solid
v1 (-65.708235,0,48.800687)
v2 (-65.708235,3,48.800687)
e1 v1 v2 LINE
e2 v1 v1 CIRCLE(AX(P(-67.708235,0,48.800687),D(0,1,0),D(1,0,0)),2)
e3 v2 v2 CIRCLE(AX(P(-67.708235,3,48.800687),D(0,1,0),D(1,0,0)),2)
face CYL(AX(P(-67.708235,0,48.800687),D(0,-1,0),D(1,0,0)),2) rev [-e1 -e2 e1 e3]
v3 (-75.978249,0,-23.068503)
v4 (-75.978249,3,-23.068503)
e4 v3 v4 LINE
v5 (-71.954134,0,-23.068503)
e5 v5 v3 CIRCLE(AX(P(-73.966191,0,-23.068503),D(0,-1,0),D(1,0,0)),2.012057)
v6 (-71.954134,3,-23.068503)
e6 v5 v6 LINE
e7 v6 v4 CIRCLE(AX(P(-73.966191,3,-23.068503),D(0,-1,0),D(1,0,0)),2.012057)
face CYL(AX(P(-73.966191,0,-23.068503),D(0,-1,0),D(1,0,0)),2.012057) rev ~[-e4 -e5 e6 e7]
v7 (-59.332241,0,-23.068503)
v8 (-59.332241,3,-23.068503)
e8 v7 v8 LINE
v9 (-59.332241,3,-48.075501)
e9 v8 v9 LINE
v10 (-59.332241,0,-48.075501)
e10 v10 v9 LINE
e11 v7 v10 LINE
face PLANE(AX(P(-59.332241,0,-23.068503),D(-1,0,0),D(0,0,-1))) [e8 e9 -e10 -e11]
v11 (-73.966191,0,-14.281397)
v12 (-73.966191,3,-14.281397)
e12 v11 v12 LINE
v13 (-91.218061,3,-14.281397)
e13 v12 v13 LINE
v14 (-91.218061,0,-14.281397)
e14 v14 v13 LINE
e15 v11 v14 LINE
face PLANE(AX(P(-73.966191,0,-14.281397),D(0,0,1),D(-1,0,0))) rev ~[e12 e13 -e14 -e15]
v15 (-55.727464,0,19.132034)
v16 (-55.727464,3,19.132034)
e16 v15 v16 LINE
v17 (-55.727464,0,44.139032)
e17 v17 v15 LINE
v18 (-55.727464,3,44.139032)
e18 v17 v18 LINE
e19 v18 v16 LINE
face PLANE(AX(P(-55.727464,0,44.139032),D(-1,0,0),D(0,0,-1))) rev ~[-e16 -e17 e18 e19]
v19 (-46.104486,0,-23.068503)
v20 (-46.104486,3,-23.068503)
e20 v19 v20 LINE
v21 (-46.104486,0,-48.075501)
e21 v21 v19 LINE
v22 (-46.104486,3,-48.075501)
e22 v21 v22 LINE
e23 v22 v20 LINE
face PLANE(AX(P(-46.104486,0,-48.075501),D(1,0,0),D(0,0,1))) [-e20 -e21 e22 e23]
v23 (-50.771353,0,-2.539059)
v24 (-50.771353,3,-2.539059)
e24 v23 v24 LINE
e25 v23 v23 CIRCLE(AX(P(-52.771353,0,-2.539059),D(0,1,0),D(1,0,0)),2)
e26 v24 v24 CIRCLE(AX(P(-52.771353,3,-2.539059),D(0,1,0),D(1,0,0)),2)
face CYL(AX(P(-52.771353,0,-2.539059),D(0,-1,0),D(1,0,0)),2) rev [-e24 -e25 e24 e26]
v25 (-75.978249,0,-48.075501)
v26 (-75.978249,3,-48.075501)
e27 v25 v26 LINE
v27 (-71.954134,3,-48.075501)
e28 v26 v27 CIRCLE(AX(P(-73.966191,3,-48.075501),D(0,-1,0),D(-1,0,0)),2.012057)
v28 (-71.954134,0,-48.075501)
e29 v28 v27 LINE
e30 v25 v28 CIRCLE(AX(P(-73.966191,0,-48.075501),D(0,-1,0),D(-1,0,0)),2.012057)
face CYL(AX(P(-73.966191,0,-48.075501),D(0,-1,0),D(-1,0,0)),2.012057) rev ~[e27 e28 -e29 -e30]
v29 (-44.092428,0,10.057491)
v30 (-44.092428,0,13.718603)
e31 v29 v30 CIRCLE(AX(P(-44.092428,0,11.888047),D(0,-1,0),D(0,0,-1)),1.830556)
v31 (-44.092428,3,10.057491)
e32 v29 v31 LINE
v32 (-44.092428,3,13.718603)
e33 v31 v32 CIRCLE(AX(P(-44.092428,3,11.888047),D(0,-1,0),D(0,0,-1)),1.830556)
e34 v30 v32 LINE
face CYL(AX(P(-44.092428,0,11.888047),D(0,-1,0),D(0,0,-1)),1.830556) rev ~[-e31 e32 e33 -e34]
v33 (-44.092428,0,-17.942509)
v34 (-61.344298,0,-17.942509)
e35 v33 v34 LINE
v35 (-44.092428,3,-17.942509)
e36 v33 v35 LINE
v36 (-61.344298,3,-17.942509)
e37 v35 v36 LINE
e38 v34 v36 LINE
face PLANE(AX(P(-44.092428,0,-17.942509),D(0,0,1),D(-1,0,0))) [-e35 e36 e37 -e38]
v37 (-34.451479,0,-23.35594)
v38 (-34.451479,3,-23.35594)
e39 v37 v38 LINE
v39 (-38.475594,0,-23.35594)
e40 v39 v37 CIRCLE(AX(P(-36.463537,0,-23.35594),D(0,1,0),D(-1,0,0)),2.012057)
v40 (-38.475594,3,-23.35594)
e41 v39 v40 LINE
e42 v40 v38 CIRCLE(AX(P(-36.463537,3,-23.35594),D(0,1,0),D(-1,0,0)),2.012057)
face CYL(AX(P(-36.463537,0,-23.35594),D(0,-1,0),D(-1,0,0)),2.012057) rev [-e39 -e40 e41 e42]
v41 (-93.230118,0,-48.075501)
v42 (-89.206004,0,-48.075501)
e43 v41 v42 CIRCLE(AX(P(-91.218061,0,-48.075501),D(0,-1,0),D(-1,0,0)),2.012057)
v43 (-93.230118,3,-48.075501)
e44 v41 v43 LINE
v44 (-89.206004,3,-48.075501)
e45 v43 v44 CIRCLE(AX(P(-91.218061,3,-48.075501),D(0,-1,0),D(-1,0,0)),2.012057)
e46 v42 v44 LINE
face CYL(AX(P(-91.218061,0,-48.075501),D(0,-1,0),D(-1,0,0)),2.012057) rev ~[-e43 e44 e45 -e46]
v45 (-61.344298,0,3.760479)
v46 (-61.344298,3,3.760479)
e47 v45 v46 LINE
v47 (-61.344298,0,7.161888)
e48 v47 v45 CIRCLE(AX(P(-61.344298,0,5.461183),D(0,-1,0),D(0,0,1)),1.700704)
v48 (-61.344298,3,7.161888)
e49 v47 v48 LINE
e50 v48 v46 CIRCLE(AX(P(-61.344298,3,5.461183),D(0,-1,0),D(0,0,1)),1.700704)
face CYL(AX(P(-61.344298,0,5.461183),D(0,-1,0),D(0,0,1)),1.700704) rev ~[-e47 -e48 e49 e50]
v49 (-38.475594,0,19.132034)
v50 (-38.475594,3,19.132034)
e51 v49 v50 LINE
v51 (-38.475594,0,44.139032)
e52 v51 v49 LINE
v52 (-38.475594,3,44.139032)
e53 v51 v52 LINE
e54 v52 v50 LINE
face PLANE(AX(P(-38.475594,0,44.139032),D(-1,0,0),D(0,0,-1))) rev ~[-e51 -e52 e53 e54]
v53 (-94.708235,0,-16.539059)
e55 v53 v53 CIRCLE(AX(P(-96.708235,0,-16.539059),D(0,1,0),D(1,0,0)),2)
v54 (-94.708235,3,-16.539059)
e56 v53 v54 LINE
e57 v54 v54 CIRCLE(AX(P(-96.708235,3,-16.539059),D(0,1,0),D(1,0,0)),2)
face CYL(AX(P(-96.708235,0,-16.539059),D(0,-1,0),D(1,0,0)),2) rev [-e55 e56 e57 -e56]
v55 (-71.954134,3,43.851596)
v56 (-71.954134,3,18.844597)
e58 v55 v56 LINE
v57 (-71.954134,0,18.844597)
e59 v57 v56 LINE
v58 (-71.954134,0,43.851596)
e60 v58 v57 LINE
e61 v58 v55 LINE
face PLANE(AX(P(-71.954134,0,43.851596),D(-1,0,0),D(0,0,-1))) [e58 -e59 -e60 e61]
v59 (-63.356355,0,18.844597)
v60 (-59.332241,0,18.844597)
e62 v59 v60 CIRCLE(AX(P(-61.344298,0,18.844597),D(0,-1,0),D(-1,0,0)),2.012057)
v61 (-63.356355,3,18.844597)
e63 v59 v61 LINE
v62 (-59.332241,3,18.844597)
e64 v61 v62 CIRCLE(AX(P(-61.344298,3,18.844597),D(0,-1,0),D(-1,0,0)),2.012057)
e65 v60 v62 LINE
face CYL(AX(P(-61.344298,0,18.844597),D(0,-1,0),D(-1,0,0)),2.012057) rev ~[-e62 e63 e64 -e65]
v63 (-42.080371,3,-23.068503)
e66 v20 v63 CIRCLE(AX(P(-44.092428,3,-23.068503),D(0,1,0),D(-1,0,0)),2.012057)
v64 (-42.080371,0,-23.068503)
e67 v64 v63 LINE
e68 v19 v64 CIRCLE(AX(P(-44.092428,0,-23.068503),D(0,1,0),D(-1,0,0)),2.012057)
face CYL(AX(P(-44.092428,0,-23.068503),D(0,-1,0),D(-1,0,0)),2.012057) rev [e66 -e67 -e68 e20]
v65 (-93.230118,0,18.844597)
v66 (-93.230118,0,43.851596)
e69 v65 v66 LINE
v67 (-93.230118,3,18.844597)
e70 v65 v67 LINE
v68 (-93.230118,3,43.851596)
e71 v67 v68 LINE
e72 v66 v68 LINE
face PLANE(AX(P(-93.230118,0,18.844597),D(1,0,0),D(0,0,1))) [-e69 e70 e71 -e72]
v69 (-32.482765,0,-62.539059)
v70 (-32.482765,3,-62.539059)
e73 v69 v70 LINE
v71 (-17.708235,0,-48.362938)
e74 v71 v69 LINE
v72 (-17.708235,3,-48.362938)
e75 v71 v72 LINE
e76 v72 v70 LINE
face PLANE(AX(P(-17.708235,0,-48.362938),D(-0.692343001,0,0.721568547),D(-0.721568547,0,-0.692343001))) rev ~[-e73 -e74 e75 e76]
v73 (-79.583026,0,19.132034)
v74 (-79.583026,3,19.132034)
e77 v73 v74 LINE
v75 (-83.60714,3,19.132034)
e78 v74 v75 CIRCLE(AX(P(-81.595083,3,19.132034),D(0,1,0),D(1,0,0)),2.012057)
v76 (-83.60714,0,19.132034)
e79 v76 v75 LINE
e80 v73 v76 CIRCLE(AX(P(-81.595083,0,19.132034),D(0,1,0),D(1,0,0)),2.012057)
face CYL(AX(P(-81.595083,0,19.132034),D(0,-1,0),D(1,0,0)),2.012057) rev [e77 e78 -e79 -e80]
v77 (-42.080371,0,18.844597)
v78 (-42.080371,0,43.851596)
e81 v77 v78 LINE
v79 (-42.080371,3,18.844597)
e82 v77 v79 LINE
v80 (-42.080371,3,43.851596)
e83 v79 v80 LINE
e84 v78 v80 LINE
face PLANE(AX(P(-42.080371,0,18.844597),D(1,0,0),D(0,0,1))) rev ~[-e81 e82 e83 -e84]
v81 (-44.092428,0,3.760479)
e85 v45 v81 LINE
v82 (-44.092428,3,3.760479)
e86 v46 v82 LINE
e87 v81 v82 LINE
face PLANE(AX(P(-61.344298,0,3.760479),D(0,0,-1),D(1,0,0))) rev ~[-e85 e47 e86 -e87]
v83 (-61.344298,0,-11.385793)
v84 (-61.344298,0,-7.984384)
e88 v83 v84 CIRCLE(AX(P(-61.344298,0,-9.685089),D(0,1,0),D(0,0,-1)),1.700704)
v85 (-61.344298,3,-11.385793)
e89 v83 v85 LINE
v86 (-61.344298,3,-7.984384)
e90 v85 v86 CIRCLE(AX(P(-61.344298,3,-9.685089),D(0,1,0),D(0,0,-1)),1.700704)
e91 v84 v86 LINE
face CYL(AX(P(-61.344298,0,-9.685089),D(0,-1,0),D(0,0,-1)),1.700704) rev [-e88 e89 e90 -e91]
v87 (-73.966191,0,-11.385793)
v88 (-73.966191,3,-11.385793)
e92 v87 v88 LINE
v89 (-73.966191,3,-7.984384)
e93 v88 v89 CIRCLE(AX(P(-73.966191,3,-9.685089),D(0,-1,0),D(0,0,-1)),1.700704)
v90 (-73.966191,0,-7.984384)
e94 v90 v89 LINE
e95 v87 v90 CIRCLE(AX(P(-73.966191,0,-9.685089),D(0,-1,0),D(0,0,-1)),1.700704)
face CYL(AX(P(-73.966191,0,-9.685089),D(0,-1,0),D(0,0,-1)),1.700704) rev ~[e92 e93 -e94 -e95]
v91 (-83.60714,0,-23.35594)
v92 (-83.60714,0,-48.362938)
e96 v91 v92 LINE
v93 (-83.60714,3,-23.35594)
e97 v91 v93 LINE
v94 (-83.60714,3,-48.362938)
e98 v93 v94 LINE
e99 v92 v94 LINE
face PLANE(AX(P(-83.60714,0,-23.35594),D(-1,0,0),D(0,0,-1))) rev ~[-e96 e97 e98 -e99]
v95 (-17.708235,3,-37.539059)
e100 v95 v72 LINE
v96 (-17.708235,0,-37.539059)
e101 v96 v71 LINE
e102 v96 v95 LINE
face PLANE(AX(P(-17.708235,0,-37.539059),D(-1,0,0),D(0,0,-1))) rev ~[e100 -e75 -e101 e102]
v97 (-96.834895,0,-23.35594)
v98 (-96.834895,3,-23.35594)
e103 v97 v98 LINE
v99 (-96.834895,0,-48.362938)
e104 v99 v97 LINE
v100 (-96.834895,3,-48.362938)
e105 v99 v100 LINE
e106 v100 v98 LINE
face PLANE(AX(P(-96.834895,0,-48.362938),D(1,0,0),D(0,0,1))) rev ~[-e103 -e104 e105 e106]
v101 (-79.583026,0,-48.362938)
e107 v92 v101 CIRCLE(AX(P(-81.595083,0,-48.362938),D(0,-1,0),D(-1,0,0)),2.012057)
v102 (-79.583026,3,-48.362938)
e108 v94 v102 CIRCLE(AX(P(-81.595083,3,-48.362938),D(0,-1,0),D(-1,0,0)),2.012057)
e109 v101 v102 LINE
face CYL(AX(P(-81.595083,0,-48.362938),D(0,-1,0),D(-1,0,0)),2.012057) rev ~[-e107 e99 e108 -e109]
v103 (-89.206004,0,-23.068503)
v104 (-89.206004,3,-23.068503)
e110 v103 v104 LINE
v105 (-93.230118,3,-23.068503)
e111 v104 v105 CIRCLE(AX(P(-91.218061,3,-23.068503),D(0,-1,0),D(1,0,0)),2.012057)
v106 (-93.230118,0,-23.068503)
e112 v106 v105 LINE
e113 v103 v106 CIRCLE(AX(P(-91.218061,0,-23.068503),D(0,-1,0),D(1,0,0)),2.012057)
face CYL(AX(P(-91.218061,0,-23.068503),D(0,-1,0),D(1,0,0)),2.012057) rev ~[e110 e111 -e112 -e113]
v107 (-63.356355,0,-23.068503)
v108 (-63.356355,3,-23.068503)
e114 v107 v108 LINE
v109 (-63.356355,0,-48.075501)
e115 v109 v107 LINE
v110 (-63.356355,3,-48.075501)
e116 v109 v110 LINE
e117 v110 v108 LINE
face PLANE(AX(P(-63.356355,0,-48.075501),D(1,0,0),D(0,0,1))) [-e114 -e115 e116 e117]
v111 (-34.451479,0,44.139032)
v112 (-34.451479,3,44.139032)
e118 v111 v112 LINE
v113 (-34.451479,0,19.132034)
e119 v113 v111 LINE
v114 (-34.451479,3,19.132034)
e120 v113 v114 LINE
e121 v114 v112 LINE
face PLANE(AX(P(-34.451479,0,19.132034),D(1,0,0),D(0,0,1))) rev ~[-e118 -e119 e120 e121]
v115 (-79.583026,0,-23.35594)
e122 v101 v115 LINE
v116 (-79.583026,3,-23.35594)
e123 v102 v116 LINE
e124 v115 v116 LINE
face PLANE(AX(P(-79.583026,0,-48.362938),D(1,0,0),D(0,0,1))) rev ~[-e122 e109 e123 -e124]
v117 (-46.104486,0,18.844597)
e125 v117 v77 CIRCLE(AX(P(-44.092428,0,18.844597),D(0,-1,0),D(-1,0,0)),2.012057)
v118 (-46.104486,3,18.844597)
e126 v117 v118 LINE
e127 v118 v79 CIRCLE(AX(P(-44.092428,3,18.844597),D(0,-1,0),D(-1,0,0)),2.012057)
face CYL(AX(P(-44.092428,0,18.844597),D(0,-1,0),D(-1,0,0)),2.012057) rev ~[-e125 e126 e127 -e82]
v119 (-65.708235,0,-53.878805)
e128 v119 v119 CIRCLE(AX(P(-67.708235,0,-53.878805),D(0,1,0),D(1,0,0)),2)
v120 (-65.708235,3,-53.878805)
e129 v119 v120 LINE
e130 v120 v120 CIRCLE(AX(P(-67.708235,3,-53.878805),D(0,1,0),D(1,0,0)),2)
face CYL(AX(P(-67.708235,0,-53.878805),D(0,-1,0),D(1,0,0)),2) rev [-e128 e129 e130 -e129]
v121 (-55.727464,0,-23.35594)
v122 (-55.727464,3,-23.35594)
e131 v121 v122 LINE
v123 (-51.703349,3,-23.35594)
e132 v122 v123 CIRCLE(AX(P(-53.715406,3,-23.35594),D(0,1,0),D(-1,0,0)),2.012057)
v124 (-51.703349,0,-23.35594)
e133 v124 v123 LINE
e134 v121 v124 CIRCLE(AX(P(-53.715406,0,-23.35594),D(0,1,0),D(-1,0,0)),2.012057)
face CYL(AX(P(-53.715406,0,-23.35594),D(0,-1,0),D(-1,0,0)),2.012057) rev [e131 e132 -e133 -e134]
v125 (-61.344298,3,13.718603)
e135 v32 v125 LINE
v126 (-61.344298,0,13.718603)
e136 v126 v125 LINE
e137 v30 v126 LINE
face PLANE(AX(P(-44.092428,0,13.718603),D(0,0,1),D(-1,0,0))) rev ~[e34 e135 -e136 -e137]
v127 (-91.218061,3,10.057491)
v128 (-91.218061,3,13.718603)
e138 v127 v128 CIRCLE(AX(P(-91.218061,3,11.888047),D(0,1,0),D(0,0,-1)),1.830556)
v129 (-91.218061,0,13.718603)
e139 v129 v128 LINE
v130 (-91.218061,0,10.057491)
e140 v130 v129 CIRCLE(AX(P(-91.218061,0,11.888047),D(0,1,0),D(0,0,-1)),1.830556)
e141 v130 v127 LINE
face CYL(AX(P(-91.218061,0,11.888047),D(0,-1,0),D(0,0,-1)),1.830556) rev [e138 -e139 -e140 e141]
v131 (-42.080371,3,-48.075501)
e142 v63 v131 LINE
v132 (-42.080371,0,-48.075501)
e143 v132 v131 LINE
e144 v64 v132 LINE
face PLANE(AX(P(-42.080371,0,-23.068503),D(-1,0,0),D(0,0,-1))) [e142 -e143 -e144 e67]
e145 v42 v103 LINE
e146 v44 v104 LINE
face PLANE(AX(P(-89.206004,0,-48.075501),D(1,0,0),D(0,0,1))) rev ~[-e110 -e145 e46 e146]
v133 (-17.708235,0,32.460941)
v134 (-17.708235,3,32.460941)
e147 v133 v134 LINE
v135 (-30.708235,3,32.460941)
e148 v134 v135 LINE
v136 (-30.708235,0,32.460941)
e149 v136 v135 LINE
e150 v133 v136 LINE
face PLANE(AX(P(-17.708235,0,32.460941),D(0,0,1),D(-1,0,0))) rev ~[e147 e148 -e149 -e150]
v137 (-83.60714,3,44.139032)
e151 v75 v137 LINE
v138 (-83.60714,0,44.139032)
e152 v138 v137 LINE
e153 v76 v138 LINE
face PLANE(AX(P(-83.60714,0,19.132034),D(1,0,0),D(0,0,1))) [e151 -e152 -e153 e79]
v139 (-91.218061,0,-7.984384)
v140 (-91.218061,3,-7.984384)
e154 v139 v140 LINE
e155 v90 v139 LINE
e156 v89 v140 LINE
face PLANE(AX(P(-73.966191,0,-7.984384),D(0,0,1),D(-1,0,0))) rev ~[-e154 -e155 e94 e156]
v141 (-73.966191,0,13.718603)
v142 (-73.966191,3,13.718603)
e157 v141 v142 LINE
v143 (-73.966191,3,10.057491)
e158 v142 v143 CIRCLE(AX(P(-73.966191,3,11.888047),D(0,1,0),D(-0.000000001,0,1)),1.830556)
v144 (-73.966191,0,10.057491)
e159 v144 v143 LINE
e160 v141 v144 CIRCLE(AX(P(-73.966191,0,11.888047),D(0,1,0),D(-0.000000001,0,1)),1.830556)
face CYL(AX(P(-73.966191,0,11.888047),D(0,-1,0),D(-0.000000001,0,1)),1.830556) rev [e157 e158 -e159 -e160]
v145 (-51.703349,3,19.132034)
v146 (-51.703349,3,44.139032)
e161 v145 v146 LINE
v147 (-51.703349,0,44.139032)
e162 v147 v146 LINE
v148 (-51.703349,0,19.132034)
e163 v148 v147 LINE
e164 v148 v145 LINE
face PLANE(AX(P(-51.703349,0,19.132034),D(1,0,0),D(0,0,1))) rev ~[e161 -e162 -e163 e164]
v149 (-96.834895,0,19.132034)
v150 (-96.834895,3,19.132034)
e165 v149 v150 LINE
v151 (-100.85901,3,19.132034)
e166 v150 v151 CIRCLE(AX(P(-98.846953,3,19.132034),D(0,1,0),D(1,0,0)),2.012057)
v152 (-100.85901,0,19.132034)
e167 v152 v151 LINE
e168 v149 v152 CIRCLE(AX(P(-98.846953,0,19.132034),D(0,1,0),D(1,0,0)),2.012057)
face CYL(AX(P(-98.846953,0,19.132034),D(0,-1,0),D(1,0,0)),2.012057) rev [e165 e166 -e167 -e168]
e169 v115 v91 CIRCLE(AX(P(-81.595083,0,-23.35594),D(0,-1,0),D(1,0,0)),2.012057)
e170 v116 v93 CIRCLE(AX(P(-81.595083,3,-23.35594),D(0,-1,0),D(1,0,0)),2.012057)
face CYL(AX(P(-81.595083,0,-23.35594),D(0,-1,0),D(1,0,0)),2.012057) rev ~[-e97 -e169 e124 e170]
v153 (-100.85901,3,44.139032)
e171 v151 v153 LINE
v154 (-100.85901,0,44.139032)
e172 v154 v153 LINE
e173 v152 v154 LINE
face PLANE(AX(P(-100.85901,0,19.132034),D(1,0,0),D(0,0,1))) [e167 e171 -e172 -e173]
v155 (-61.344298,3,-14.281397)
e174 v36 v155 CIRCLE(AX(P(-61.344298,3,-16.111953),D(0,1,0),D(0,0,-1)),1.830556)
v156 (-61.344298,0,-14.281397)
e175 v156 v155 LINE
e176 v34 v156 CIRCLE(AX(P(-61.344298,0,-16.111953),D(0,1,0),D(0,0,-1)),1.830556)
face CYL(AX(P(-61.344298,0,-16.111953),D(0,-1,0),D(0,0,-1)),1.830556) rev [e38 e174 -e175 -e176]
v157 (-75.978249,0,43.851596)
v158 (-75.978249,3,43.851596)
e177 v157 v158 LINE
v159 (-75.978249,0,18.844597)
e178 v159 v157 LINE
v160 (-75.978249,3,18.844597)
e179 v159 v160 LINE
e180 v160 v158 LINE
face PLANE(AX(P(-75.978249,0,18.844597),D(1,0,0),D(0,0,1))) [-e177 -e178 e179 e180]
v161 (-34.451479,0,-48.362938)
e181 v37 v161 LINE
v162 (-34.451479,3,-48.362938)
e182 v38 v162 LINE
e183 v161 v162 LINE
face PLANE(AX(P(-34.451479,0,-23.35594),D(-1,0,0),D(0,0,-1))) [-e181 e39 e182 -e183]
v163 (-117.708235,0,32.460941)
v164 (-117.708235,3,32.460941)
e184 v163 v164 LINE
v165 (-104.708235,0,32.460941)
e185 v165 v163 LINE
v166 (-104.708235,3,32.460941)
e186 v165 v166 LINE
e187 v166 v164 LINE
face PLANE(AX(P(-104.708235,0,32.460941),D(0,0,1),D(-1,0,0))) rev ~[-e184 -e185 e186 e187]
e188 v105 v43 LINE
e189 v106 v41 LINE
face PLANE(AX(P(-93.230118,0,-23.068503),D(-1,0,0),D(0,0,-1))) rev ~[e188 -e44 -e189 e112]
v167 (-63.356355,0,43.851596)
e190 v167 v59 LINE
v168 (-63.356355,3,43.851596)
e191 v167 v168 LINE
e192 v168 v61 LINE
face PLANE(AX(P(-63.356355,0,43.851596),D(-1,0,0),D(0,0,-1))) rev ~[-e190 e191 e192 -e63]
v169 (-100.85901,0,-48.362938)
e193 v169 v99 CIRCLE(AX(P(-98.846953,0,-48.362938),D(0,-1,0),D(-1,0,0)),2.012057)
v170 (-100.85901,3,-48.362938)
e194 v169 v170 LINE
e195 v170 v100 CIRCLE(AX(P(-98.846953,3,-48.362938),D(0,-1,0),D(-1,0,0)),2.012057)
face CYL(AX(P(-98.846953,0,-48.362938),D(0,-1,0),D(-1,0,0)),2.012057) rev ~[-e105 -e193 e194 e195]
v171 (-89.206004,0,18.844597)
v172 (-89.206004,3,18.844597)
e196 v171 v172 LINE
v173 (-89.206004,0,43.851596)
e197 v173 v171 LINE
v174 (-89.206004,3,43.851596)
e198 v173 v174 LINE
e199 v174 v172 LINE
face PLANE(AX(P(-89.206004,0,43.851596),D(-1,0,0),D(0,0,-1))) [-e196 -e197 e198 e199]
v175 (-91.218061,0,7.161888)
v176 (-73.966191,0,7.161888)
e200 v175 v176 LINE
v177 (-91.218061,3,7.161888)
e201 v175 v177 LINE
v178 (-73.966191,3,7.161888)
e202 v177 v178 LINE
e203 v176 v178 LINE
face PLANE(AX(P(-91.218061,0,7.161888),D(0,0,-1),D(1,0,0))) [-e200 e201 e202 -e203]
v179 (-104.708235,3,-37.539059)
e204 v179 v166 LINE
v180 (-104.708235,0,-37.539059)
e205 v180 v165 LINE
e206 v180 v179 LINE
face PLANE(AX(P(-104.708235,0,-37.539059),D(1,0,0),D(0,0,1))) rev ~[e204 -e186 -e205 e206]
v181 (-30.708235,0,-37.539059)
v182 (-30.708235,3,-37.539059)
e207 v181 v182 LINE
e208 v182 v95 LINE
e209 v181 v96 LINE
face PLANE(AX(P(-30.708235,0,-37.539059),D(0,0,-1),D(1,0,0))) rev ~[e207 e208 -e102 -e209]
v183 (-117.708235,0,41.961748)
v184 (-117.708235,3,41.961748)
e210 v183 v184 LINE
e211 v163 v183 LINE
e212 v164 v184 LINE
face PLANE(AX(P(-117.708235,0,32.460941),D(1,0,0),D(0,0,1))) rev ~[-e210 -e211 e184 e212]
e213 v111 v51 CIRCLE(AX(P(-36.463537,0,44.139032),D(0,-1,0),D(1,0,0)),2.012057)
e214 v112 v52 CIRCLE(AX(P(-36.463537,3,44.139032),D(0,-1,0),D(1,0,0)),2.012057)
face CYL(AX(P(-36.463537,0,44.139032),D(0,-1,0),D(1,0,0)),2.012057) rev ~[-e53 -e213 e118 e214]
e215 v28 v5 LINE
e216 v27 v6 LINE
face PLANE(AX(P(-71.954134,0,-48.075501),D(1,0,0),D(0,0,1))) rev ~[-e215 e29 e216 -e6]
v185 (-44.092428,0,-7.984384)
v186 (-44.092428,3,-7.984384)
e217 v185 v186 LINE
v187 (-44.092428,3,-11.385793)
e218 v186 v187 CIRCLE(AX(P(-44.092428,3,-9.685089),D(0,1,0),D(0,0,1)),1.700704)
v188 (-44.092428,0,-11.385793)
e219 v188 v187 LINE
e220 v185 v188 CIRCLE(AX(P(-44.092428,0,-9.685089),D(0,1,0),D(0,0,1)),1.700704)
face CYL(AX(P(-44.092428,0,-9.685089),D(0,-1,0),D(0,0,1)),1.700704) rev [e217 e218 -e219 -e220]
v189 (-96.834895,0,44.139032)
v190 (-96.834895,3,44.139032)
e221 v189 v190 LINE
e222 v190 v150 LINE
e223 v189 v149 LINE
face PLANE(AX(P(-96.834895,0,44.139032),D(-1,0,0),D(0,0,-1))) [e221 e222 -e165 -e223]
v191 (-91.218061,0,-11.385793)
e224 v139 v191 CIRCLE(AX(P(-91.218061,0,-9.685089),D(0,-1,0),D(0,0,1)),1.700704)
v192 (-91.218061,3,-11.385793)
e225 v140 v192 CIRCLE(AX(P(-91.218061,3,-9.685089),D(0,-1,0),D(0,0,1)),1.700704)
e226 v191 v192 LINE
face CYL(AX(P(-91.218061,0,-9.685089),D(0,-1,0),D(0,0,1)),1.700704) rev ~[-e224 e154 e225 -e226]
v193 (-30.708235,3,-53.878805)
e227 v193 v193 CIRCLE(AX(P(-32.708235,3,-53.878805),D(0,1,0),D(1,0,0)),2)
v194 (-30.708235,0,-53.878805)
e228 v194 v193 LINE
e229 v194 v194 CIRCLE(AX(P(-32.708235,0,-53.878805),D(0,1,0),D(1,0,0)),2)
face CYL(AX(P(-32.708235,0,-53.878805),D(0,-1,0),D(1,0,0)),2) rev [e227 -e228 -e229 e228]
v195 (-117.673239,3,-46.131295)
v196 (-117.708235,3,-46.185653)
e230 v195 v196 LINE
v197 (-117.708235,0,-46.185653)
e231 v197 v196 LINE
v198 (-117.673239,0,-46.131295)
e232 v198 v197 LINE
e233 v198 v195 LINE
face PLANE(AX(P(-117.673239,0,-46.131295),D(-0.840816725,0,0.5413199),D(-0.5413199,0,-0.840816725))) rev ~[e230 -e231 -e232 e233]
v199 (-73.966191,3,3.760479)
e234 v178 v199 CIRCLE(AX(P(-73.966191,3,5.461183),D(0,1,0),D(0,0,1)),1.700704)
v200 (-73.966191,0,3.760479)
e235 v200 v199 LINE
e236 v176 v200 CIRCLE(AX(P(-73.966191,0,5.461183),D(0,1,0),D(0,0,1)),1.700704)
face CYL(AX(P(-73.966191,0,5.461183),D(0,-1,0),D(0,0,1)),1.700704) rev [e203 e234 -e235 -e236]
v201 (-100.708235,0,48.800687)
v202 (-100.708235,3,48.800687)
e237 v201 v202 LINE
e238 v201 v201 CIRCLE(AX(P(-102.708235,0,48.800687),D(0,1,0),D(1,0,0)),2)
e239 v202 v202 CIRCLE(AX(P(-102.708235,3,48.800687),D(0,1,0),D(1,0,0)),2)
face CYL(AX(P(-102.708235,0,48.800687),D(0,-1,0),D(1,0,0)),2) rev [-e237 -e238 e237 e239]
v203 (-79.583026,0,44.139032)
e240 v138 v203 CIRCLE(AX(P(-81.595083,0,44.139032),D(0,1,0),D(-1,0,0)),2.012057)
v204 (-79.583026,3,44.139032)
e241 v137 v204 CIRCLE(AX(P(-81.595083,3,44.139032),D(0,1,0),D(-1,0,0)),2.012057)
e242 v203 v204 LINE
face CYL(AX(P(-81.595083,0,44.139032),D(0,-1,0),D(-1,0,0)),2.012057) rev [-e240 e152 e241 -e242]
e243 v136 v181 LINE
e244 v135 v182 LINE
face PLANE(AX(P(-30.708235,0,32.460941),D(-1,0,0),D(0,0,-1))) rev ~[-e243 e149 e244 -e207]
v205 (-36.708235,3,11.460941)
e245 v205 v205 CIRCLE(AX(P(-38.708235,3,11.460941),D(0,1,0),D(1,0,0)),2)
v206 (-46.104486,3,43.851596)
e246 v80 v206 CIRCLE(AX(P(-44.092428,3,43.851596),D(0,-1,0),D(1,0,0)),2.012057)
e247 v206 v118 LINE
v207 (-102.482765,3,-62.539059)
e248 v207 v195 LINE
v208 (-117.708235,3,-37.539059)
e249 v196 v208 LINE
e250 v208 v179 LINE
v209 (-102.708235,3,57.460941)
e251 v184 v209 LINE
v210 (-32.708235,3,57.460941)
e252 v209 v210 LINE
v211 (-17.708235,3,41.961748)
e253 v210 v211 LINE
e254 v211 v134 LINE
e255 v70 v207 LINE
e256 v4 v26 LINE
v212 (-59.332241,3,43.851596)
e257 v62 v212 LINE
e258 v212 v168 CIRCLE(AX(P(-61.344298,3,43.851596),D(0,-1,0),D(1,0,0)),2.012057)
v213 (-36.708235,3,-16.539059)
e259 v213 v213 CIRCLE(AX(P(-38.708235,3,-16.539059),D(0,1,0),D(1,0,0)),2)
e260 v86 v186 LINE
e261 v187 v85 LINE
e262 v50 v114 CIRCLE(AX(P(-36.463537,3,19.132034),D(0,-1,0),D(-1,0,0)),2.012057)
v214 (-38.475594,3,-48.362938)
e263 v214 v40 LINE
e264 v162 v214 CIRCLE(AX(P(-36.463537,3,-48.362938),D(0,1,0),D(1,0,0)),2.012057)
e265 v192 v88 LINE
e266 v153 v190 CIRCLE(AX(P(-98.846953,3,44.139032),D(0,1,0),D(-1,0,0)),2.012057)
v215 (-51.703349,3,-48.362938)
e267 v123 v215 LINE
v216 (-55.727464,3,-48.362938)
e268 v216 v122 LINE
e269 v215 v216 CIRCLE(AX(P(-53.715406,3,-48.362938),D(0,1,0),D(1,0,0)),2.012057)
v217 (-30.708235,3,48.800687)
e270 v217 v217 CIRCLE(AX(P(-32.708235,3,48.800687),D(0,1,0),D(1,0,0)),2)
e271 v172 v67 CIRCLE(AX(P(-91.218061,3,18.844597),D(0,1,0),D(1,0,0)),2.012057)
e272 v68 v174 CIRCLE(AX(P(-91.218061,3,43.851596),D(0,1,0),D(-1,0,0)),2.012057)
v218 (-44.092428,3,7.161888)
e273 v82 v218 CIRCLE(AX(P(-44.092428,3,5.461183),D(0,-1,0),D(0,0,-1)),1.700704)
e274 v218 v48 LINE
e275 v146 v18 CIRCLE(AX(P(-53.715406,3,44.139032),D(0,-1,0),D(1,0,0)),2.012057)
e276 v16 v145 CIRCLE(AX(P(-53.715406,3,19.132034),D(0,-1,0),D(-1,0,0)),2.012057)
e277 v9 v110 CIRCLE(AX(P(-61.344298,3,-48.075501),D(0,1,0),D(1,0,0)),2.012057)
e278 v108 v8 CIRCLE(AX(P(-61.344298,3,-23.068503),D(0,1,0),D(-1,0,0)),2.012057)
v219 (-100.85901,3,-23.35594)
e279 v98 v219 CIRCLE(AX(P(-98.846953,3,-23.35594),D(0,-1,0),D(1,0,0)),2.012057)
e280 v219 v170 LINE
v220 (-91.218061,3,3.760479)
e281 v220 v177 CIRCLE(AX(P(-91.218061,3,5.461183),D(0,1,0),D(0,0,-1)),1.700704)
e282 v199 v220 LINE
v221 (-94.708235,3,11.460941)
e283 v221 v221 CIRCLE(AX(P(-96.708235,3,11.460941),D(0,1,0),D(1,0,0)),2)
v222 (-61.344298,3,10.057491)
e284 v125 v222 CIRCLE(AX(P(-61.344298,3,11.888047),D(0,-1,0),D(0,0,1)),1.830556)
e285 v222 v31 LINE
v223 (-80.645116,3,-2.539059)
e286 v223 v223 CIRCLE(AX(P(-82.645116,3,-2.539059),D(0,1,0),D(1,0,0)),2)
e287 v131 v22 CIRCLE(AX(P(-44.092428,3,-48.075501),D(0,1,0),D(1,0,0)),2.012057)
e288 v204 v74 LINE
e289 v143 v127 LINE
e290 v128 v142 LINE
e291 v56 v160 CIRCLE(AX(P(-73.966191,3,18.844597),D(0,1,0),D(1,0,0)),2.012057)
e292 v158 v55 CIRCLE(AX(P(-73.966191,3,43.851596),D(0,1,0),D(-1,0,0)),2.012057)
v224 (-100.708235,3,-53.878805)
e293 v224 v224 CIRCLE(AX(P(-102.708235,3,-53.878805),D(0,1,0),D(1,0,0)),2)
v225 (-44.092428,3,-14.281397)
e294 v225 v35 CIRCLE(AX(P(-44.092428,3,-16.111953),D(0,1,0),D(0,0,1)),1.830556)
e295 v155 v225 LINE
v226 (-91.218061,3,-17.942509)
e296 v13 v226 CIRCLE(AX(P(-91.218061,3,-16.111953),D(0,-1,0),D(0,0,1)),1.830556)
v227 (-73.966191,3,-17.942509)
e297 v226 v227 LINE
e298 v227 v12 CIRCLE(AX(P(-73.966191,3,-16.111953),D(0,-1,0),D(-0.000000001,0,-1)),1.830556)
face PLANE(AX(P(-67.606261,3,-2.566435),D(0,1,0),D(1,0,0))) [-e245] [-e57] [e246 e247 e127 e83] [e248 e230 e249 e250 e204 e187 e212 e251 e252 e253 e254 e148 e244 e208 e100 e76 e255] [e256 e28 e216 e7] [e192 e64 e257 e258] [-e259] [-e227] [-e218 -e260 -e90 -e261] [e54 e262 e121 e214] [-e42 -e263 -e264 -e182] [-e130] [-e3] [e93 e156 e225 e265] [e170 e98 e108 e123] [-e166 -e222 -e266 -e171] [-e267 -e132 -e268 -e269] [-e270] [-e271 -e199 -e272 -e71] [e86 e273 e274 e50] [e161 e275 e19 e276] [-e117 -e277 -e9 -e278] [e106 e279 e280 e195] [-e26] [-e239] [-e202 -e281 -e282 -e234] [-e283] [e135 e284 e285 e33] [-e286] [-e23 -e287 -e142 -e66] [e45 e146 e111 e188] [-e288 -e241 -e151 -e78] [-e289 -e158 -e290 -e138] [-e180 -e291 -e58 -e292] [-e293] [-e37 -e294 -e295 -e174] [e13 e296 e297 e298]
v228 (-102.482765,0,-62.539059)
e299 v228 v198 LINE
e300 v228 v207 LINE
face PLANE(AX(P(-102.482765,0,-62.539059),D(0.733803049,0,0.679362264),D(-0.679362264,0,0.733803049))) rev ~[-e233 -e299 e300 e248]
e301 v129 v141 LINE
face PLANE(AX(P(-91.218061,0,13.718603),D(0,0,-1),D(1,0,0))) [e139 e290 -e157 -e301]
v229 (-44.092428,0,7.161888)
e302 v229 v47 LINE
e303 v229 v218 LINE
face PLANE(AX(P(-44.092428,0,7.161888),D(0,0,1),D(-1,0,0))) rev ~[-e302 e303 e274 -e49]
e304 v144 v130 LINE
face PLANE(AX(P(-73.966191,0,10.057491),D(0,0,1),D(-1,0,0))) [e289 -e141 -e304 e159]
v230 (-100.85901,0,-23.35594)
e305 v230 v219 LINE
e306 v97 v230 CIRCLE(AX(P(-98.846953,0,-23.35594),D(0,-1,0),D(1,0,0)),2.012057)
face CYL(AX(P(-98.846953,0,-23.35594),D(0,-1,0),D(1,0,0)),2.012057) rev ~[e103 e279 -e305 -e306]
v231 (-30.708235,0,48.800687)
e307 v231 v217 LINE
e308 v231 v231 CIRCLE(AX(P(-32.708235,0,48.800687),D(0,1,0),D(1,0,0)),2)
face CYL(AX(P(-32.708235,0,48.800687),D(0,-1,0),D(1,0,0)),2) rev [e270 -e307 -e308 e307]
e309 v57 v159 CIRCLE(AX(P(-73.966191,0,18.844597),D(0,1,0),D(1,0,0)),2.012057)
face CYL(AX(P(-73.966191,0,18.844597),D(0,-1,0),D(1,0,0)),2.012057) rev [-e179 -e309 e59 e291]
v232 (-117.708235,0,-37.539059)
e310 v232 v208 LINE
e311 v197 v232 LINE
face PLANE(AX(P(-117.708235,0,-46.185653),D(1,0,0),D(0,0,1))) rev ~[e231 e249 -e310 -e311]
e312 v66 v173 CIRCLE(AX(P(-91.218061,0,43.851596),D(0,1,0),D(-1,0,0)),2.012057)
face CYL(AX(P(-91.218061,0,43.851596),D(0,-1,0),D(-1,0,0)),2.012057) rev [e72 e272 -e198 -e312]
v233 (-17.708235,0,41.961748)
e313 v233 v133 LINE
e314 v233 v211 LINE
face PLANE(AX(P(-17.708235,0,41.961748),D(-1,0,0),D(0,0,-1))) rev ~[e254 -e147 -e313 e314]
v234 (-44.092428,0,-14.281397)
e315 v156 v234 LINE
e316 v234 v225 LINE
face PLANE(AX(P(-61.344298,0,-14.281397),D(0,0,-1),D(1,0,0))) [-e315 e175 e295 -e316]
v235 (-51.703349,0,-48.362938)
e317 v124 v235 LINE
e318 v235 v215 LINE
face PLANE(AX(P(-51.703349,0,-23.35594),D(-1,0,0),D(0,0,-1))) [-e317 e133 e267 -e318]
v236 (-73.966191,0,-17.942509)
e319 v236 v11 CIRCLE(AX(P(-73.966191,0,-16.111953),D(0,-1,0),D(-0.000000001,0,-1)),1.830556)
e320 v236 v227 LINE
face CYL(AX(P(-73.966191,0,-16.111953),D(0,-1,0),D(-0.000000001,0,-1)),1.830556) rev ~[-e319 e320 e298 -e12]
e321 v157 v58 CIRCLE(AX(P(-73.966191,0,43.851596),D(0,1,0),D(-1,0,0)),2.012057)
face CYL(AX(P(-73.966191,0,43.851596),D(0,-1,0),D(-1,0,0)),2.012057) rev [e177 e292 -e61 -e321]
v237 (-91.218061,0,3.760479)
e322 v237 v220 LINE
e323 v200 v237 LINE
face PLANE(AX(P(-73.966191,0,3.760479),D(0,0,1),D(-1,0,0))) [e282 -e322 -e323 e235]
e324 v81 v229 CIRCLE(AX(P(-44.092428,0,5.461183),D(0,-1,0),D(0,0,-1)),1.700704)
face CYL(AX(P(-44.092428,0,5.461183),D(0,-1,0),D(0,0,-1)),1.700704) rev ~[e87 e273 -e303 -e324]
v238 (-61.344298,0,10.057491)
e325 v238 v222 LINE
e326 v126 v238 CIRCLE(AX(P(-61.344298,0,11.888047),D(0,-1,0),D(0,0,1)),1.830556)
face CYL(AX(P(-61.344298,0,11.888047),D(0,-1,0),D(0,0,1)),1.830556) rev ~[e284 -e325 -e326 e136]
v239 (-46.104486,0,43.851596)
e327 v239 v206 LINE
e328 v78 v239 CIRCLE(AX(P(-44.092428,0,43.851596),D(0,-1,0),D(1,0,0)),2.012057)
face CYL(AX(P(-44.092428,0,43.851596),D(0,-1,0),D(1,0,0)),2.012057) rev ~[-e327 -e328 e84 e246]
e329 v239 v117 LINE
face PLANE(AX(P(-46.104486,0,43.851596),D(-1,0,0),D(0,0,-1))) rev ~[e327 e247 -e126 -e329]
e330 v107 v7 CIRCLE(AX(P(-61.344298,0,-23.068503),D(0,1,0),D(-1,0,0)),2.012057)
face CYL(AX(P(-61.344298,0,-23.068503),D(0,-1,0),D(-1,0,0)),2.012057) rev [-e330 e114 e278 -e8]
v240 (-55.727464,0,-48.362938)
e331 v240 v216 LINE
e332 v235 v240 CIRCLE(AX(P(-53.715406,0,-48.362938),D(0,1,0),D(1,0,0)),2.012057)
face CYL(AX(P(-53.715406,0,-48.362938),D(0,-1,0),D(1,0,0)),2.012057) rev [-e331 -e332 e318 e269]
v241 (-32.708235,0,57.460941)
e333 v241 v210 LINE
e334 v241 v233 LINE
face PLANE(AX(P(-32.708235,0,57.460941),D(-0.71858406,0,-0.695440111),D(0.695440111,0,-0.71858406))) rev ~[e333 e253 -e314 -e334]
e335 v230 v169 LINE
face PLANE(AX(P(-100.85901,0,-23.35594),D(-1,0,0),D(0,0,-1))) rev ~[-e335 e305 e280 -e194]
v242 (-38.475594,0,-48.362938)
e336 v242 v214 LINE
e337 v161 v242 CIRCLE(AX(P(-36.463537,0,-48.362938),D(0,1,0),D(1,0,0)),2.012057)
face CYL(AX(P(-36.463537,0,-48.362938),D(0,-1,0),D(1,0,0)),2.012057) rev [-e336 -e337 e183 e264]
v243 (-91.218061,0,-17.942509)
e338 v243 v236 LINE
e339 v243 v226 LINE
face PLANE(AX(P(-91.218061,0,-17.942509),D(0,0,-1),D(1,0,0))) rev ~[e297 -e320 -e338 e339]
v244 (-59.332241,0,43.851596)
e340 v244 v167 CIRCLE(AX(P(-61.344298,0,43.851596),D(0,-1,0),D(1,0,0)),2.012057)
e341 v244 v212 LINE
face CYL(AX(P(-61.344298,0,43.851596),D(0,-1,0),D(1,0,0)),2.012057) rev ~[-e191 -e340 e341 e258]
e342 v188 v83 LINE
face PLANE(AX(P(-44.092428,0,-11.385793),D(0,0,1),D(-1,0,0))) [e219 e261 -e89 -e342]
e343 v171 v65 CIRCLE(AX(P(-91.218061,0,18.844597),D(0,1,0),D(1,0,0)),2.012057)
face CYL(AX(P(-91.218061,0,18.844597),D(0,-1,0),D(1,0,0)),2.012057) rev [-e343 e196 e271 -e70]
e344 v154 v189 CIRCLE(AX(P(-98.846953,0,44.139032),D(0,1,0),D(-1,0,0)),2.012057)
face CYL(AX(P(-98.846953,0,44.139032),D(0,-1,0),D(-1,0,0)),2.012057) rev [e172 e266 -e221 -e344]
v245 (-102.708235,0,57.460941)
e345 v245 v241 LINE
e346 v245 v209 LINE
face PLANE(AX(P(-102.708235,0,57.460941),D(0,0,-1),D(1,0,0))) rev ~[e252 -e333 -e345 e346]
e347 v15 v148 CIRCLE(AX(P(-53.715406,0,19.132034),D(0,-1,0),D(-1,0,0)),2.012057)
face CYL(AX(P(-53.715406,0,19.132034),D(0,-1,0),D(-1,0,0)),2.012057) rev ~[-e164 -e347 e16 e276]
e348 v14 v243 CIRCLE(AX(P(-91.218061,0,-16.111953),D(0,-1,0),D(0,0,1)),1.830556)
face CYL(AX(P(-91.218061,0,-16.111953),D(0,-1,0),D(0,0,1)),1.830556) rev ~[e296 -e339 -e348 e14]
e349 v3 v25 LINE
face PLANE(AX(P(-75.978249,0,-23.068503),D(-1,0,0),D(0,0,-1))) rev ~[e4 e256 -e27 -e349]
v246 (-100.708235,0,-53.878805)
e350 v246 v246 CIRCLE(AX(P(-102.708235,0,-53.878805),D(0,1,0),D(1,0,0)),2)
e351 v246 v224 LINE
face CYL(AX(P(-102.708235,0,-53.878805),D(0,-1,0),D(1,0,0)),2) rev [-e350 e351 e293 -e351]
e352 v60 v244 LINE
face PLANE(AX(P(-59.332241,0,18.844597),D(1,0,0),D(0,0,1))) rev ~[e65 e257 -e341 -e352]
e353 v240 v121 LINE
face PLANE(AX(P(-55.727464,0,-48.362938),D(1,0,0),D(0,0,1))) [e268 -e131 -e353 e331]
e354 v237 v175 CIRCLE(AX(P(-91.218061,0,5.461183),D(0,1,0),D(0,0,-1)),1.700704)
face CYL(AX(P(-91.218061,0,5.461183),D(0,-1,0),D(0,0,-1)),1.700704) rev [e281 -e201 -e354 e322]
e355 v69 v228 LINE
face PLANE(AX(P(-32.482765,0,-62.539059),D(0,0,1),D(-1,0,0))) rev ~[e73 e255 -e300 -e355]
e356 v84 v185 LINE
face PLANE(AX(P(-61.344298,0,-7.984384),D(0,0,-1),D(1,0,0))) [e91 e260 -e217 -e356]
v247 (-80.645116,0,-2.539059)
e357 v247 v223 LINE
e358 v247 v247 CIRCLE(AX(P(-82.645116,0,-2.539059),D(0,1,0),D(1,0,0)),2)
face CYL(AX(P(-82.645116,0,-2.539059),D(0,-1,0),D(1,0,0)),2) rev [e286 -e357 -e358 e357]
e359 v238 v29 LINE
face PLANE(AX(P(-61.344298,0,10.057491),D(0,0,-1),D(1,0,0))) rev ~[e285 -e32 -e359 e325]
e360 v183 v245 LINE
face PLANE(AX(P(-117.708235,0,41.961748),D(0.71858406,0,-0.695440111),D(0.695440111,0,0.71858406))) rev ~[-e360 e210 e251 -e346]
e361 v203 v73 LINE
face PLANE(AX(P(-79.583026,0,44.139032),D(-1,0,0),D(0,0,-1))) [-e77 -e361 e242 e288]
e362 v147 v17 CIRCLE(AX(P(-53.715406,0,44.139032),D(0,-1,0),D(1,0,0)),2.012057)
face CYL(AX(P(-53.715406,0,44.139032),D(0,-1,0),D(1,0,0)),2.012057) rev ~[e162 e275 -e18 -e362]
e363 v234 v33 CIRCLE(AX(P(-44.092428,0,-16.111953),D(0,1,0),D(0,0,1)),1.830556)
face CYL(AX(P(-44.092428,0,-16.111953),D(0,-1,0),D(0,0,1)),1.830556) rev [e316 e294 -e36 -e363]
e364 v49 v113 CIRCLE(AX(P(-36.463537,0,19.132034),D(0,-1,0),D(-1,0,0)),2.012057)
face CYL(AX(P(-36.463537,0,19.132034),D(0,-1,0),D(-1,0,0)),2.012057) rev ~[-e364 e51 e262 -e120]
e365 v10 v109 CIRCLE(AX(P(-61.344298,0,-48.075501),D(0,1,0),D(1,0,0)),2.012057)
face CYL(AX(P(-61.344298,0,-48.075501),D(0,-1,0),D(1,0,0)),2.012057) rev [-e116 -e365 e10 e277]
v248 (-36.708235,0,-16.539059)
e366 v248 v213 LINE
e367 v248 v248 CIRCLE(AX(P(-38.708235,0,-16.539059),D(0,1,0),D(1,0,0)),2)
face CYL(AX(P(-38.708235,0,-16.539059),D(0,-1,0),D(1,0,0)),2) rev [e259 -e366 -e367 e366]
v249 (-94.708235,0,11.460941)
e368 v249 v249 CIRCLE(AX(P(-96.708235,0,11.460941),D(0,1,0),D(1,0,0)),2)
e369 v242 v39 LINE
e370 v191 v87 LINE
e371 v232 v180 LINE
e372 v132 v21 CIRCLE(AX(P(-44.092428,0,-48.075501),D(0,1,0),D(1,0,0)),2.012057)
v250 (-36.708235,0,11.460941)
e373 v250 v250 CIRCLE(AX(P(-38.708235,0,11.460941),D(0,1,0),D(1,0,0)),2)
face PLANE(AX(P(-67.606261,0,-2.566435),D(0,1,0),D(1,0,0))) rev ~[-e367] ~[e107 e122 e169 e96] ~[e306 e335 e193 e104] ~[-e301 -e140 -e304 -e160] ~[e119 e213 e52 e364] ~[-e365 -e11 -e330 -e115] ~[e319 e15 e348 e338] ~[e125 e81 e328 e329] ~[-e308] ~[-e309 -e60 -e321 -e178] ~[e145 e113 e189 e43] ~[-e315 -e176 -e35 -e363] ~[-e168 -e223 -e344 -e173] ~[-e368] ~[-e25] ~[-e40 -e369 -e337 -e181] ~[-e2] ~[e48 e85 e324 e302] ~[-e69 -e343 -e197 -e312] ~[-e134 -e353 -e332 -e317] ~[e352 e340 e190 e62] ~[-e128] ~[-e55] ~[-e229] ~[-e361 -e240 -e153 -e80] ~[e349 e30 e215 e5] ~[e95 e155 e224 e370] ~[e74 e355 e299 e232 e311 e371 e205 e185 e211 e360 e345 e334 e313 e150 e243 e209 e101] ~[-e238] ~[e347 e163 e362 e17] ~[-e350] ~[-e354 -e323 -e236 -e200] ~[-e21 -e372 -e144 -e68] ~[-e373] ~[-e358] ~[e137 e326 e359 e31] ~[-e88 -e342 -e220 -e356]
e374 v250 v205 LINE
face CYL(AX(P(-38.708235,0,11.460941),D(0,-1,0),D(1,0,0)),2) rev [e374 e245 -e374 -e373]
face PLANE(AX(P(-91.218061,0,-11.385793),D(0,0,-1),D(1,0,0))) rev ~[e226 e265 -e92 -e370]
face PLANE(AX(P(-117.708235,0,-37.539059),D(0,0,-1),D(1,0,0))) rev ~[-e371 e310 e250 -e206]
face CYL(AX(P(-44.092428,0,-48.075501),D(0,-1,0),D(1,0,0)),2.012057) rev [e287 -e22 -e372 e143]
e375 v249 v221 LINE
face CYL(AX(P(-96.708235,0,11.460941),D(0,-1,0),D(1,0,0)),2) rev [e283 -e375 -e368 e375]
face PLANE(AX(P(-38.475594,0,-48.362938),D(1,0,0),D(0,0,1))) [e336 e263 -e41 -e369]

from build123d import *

# Parameters (mm, degrees)
SKETCH1_R           = 2
BOSS_EXTRUDE1_DEPTH = 3


with BuildPart() as part:
    # Sketch1 → Boss-Extrude1 (new body)
    with BuildSketch(Plane(origin=(0, 0, 0), x_dir=(1, 0, 0), z_dir=(0, 1, 0))):
        Polygon((-117.708234781, 46.18565323), (-117.708234781, 37.539058804), (-104.708234781, 37.539058804), (-104.708234781, -32.460941196), (-117.708234781, -32.460941196), (-117.708234781, -41.961747622), (-102.708234781, -57.460941196), (-32.708234781, -57.460941196), (-17.708234781, -41.961747622), (-17.708234781, -32.460941196), (-30.708234781, -32.460941196), (-30.708234781, 37.539058804), (-17.708234781, 37.539058804), (-17.708234781, 48.362937983), (-32.482765457, 62.539058804), (-102.482765457, 62.539058804), (-117.673238758, 46.131294908), align=None)
        with Locations((-96.708234781, 16.539058804)):
            Circle(SKETCH1_R, mode=Mode.SUBTRACT)
        with Locations((-96.708234781, -11.460941196)):
            Circle(SKETCH1_R, mode=Mode.SUBTRACT)
        with Locations((-102.708234781, -48.800687158)):
            Circle(SKETCH1_R, mode=Mode.SUBTRACT)
        with Locations((-67.708234781, -48.800687158)):
            Circle(SKETCH1_R, mode=Mode.SUBTRACT)
        with Locations((-102.708234781, 53.878804766)):
            Circle(SKETCH1_R, mode=Mode.SUBTRACT)
        with Locations((-67.708234781, 53.878804766)):
            Circle(SKETCH1_R, mode=Mode.SUBTRACT)
        with Locations((-32.708234781, 53.878804766)):
            Circle(SKETCH1_R, mode=Mode.SUBTRACT)
        with Locations((-32.708234781, -48.800687158)):
            Circle(SKETCH1_R, mode=Mode.SUBTRACT)
        with Locations((-38.708234781, -11.460941196)):
            Circle(SKETCH1_R, mode=Mode.SUBTRACT)
        with Locations((-38.708234781, 16.539058804)):
            Circle(SKETCH1_R, mode=Mode.SUBTRACT)
        with Locations((-52.771353365, 2.539058804)):
            Circle(SKETCH1_R, mode=Mode.SUBTRACT)
        with Locations((-82.645116197, 2.539058804)):
            Circle(SKETCH1_R, mode=Mode.SUBTRACT)
        with BuildLine():
            Line((-79.583025643, 48.362937983), (-79.583025643, 23.355939616))
            ThreePointArc((-79.583025643, 23.355939616), (-81.595082983, 21.343882276), (-83.607140323, 23.355939616))
            Line((-83.607140323, 23.355939616), (-83.607140323, 48.362937983))
            ThreePointArc((-83.607140323, 48.362937983), (-81.595082983, 50.374995323), (-79.583025643, 48.362937983))
        make_face(mode=Mode.SUBTRACT)
        with BuildLine():
            Line((-71.954133984, 48.07550122), (-71.954133984, 23.068502853))
            ThreePointArc((-71.954133984, 23.068502853), (-73.966191324, 21.056445514), (-75.978248664, 23.068502853))
            Line((-75.978248664, 23.068502853), (-75.978248664, 48.07550122))
            ThreePointArc((-75.978248664, 48.07550122), (-73.966191324, 50.08755856), (-71.954133984, 48.07550122))
        make_face(mode=Mode.SUBTRACT)
        with BuildLine():
            Line((-73.966191324, 14.281397024), (-91.218060864, 14.281397024))
            ThreePointArc((-91.218060864, 14.281397024), (-93.048616644, 16.111952804), (-91.218060864, 17.942508584))
            Line((-91.218060864, 17.942508584), (-73.966191324, 17.942508584))
            ThreePointArc((-73.966191324, 17.942508584), (-72.135635543, 16.111952804), (-73.966191324, 14.281397024))
        make_face(mode=Mode.SUBTRACT)
        with BuildLine():
            Line((-96.834895183, 48.362937983), (-96.834895183, 23.355939616))
            ThreePointArc((-96.834895183, 23.355939616), (-98.846952522, 21.343882276), (-100.859009862, 23.355939616))
            Line((-100.859009862, 23.355939616), (-100.859009862, 48.362937983))
            ThreePointArc((-100.859009862, 48.362937983), (-98.846952522, 50.374995323), (-96.834895183, 48.362937983))
        make_face(mode=Mode.SUBTRACT)
        with BuildLine():
            Line((-89.206003524, 48.07550122), (-89.206003524, 23.068502853))
            ThreePointArc((-89.206003524, 23.068502853), (-91.218060864, 21.056445514), (-93.230118203, 23.068502853))
            Line((-93.230118203, 23.068502853), (-93.230118203, 48.07550122))
            ThreePointArc((-93.230118203, 48.07550122), (-91.218060864, 50.08755856), (-89.206003524, 48.07550122))
        make_face(mode=Mode.SUBTRACT)
        with BuildLine():
            Line((-55.727463713, 48.362937983), (-55.727463713, 23.355939616))
            ThreePointArc((-55.727463713, 23.355939616), (-53.715406373, 21.343882276), (-51.703349033, 23.355939616))
            Line((-51.703349033, 23.355939616), (-51.703349033, 48.362937983))
            ThreePointArc((-51.703349033, 48.362937983), (-53.715406373, 50.374995323), (-55.727463713, 48.362937983))
        make_face(mode=Mode.SUBTRACT)
        with BuildLine():
            Line((-63.356355372, 48.07550122), (-63.356355372, 23.068502853))
            ThreePointArc((-63.356355372, 23.068502853), (-61.344298032, 21.056445514), (-59.332240692, 23.068502853))
            Line((-59.332240692, 23.068502853), (-59.332240692, 48.07550122))
            ThreePointArc((-59.332240692, 48.07550122), (-61.344298032, 50.08755856), (-63.356355372, 48.07550122))
        make_face(mode=Mode.SUBTRACT)
        with BuildLine():
            Line((-38.475594173, 48.362937983), (-38.475594173, 23.355939616))
            ThreePointArc((-38.475594173, 23.355939616), (-36.463536833, 21.343882276), (-34.451479493, 23.355939616))
            Line((-34.451479493, 23.355939616), (-34.451479493, 48.362937983))
            ThreePointArc((-34.451479493, 48.362937983), (-36.463536833, 50.374995323), (-38.475594173, 48.362937983))
        make_face(mode=Mode.SUBTRACT)
        with BuildLine():
            Line((-46.104485832, 48.07550122), (-46.104485832, 23.068502853))
            ThreePointArc((-46.104485832, 23.068502853), (-44.092428492, 21.056445514), (-42.080371152, 23.068502853))
            Line((-42.080371152, 23.068502853), (-42.080371152, 48.07550122))
            ThreePointArc((-42.080371152, 48.07550122), (-44.092428492, 50.08755856), (-46.104485832, 48.07550122))
        make_face(mode=Mode.SUBTRACT)
        with BuildLine():
            Line((-79.583025643, -44.139032376), (-79.583025643, -19.132034009))
            ThreePointArc((-79.583025643, -19.132034009), (-81.595082983, -17.119976669), (-83.607140323, -19.132034009))
            Line((-83.607140323, -19.132034009), (-83.607140323, -44.139032376))
            ThreePointArc((-83.607140323, -44.139032376), (-81.595082983, -46.151089715), (-79.583025643, -44.139032376))
        make_face(mode=Mode.SUBTRACT)
        with BuildLine():
            Line((-71.954133984, -43.851595613), (-71.954133984, -18.844597246))
            ThreePointArc((-71.954133984, -18.844597246), (-73.966191324, -16.832539906), (-75.978248664, -18.844597246))
            Line((-75.978248664, -18.844597246), (-75.978248664, -43.851595613))
            ThreePointArc((-75.978248664, -43.851595613), (-73.966191324, -45.863652953), (-71.954133984, -43.851595613))
        make_face(mode=Mode.SUBTRACT)
        with BuildLine():
            Line((-96.834895183, -44.139032376), (-96.834895183, -19.132034009))
            ThreePointArc((-96.834895183, -19.132034009), (-98.846952522, -17.119976669), (-100.859009862, -19.132034009))
            Line((-100.859009862, -19.132034009), (-100.859009862, -44.139032376))
            ThreePointArc((-100.859009862, -44.139032376), (-98.846952522, -46.151089715), (-96.834895183, -44.139032376))
        make_face(mode=Mode.SUBTRACT)
        with BuildLine():
            Line((-89.206003524, -43.851595613), (-89.206003524, -18.844597246))
            ThreePointArc((-89.206003524, -18.844597246), (-91.218060864, -16.832539906), (-93.230118203, -18.844597246))
            Line((-93.230118203, -18.844597246), (-93.230118203, -43.851595613))
            ThreePointArc((-93.230118203, -43.851595613), (-91.218060864, -45.863652953), (-89.206003524, -43.851595613))
        make_face(mode=Mode.SUBTRACT)
        with BuildLine():
            Line((-55.727463713, -44.139032376), (-55.727463713, -19.132034009))
            ThreePointArc((-55.727463713, -19.132034009), (-53.715406373, -17.119976669), (-51.703349033, -19.132034009))
            Line((-51.703349033, -19.132034009), (-51.703349033, -44.139032376))
            ThreePointArc((-51.703349033, -44.139032376), (-53.715406373, -46.151089715), (-55.727463713, -44.139032376))
        make_face(mode=Mode.SUBTRACT)
        with BuildLine():
            Line((-63.356355372, -43.851595613), (-63.356355372, -18.844597246))
            ThreePointArc((-63.356355372, -18.844597246), (-61.344298032, -16.832539906), (-59.332240692, -18.844597246))
            Line((-59.332240692, -18.844597246), (-59.332240692, -43.851595613))
            ThreePointArc((-59.332240692, -43.851595613), (-61.344298032, -45.863652953), (-63.356355372, -43.851595613))
        make_face(mode=Mode.SUBTRACT)
        with BuildLine():
            Line((-38.475594173, -44.139032376), (-38.475594173, -19.132034009))
            ThreePointArc((-38.475594173, -19.132034009), (-36.463536833, -17.119976669), (-34.451479493, -19.132034009))
            Line((-34.451479493, -19.132034009), (-34.451479493, -44.139032376))
            ThreePointArc((-34.451479493, -44.139032376), (-36.463536833, -46.151089715), (-38.475594173, -44.139032376))
        make_face(mode=Mode.SUBTRACT)
        with BuildLine():
            Line((-46.104485832, -43.851595613), (-46.104485832, -18.844597246))
            ThreePointArc((-46.104485832, -18.844597246), (-44.092428492, -16.832539906), (-42.080371152, -18.844597246))
            Line((-42.080371152, -18.844597246), (-42.080371152, -43.851595613))
            ThreePointArc((-42.080371152, -43.851595613), (-44.092428492, -45.863652953), (-46.104485832, -43.851595613))
        make_face(mode=Mode.SUBTRACT)
        with BuildLine():
            Line((-73.966191324, 7.984384289), (-91.218060864, 7.984384289))
            ThreePointArc((-91.218060864, 7.984384289), (-92.918765354, 9.685088779), (-91.218060864, 11.385793269))
            Line((-91.218060864, 11.385793269), (-73.966191324, 11.385793269))
            ThreePointArc((-73.966191324, 11.385793269), (-72.265486834, 9.685088779), (-73.966191324, 7.984384289))
        make_face(mode=Mode.SUBTRACT)
        with BuildLine():
            Line((-61.344298032, 14.281397024), (-44.092428492, 14.281397024))
            ThreePointArc((-44.092428492, 14.281397024), (-42.261872712, 16.111952804), (-44.092428492, 17.942508584))
            Line((-44.092428492, 17.942508584), (-61.344298032, 17.942508584))
            ThreePointArc((-61.344298032, 17.942508584), (-63.174853812, 16.111952804), (-61.344298032, 14.281397024))
        make_face(mode=Mode.SUBTRACT)
        with BuildLine():
            Line((-61.344298032, 7.984384289), (-44.092428492, 7.984384289))
            ThreePointArc((-44.092428492, 7.984384289), (-42.391724002, 9.685088779), (-44.092428492, 11.385793269))
            Line((-44.092428492, 11.385793269), (-61.344298032, 11.385793269))
            ThreePointArc((-61.344298032, 11.385793269), (-63.045002522, 9.685088779), (-61.344298032, 7.984384289))
        make_face(mode=Mode.SUBTRACT)
        with BuildLine():
            Line((-73.966191324, -10.057491416), (-91.218060864, -10.057491416))
            ThreePointArc((-91.218060864, -10.057491416), (-93.048616644, -11.888047196), (-91.218060864, -13.718602976))
            Line((-91.218060864, -13.718602976), (-73.966191324, -13.718602976))
            ThreePointArc((-73.966191324, -13.718602976), (-72.135635543, -11.888047196), (-73.966191324, -10.057491416))
        make_face(mode=Mode.SUBTRACT)
        with BuildLine():
            Line((-73.966191324, -3.760478681), (-91.218060864, -3.760478681))
            ThreePointArc((-91.218060864, -3.760478681), (-92.918765354, -5.461183171), (-91.218060864, -7.161887662))
            Line((-91.218060864, -7.161887662), (-73.966191324, -7.161887662))
            ThreePointArc((-73.966191324, -7.161887662), (-72.265486834, -5.461183171), (-73.966191324, -3.760478681))
        make_face(mode=Mode.SUBTRACT)
        with BuildLine():
            Line((-61.344298032, -10.057491416), (-44.092428492, -10.057491416))
            ThreePointArc((-44.092428492, -10.057491416), (-42.261872712, -11.888047196), (-44.092428492, -13.718602976))
            Line((-44.092428492, -13.718602976), (-61.344298032, -13.718602976))
            ThreePointArc((-61.344298032, -13.718602976), (-63.174853812, -11.888047196), (-61.344298032, -10.057491416))
        make_face(mode=Mode.SUBTRACT)
        with BuildLine():
            Line((-61.344298032, -3.760478681), (-44.092428492, -3.760478681))
            ThreePointArc((-44.092428492, -3.760478681), (-42.391724002, -5.461183171), (-44.092428492, -7.161887662))
            Line((-44.092428492, -7.161887662), (-61.344298032, -7.161887662))
            ThreePointArc((-61.344298032, -7.161887662), (-63.045002522, -5.461183171), (-61.344298032, -3.760478681))
        make_face(mode=Mode.SUBTRACT)
    extrude(amount=BOSS_EXTRUDE1_DEPTH)


solid = part.part
